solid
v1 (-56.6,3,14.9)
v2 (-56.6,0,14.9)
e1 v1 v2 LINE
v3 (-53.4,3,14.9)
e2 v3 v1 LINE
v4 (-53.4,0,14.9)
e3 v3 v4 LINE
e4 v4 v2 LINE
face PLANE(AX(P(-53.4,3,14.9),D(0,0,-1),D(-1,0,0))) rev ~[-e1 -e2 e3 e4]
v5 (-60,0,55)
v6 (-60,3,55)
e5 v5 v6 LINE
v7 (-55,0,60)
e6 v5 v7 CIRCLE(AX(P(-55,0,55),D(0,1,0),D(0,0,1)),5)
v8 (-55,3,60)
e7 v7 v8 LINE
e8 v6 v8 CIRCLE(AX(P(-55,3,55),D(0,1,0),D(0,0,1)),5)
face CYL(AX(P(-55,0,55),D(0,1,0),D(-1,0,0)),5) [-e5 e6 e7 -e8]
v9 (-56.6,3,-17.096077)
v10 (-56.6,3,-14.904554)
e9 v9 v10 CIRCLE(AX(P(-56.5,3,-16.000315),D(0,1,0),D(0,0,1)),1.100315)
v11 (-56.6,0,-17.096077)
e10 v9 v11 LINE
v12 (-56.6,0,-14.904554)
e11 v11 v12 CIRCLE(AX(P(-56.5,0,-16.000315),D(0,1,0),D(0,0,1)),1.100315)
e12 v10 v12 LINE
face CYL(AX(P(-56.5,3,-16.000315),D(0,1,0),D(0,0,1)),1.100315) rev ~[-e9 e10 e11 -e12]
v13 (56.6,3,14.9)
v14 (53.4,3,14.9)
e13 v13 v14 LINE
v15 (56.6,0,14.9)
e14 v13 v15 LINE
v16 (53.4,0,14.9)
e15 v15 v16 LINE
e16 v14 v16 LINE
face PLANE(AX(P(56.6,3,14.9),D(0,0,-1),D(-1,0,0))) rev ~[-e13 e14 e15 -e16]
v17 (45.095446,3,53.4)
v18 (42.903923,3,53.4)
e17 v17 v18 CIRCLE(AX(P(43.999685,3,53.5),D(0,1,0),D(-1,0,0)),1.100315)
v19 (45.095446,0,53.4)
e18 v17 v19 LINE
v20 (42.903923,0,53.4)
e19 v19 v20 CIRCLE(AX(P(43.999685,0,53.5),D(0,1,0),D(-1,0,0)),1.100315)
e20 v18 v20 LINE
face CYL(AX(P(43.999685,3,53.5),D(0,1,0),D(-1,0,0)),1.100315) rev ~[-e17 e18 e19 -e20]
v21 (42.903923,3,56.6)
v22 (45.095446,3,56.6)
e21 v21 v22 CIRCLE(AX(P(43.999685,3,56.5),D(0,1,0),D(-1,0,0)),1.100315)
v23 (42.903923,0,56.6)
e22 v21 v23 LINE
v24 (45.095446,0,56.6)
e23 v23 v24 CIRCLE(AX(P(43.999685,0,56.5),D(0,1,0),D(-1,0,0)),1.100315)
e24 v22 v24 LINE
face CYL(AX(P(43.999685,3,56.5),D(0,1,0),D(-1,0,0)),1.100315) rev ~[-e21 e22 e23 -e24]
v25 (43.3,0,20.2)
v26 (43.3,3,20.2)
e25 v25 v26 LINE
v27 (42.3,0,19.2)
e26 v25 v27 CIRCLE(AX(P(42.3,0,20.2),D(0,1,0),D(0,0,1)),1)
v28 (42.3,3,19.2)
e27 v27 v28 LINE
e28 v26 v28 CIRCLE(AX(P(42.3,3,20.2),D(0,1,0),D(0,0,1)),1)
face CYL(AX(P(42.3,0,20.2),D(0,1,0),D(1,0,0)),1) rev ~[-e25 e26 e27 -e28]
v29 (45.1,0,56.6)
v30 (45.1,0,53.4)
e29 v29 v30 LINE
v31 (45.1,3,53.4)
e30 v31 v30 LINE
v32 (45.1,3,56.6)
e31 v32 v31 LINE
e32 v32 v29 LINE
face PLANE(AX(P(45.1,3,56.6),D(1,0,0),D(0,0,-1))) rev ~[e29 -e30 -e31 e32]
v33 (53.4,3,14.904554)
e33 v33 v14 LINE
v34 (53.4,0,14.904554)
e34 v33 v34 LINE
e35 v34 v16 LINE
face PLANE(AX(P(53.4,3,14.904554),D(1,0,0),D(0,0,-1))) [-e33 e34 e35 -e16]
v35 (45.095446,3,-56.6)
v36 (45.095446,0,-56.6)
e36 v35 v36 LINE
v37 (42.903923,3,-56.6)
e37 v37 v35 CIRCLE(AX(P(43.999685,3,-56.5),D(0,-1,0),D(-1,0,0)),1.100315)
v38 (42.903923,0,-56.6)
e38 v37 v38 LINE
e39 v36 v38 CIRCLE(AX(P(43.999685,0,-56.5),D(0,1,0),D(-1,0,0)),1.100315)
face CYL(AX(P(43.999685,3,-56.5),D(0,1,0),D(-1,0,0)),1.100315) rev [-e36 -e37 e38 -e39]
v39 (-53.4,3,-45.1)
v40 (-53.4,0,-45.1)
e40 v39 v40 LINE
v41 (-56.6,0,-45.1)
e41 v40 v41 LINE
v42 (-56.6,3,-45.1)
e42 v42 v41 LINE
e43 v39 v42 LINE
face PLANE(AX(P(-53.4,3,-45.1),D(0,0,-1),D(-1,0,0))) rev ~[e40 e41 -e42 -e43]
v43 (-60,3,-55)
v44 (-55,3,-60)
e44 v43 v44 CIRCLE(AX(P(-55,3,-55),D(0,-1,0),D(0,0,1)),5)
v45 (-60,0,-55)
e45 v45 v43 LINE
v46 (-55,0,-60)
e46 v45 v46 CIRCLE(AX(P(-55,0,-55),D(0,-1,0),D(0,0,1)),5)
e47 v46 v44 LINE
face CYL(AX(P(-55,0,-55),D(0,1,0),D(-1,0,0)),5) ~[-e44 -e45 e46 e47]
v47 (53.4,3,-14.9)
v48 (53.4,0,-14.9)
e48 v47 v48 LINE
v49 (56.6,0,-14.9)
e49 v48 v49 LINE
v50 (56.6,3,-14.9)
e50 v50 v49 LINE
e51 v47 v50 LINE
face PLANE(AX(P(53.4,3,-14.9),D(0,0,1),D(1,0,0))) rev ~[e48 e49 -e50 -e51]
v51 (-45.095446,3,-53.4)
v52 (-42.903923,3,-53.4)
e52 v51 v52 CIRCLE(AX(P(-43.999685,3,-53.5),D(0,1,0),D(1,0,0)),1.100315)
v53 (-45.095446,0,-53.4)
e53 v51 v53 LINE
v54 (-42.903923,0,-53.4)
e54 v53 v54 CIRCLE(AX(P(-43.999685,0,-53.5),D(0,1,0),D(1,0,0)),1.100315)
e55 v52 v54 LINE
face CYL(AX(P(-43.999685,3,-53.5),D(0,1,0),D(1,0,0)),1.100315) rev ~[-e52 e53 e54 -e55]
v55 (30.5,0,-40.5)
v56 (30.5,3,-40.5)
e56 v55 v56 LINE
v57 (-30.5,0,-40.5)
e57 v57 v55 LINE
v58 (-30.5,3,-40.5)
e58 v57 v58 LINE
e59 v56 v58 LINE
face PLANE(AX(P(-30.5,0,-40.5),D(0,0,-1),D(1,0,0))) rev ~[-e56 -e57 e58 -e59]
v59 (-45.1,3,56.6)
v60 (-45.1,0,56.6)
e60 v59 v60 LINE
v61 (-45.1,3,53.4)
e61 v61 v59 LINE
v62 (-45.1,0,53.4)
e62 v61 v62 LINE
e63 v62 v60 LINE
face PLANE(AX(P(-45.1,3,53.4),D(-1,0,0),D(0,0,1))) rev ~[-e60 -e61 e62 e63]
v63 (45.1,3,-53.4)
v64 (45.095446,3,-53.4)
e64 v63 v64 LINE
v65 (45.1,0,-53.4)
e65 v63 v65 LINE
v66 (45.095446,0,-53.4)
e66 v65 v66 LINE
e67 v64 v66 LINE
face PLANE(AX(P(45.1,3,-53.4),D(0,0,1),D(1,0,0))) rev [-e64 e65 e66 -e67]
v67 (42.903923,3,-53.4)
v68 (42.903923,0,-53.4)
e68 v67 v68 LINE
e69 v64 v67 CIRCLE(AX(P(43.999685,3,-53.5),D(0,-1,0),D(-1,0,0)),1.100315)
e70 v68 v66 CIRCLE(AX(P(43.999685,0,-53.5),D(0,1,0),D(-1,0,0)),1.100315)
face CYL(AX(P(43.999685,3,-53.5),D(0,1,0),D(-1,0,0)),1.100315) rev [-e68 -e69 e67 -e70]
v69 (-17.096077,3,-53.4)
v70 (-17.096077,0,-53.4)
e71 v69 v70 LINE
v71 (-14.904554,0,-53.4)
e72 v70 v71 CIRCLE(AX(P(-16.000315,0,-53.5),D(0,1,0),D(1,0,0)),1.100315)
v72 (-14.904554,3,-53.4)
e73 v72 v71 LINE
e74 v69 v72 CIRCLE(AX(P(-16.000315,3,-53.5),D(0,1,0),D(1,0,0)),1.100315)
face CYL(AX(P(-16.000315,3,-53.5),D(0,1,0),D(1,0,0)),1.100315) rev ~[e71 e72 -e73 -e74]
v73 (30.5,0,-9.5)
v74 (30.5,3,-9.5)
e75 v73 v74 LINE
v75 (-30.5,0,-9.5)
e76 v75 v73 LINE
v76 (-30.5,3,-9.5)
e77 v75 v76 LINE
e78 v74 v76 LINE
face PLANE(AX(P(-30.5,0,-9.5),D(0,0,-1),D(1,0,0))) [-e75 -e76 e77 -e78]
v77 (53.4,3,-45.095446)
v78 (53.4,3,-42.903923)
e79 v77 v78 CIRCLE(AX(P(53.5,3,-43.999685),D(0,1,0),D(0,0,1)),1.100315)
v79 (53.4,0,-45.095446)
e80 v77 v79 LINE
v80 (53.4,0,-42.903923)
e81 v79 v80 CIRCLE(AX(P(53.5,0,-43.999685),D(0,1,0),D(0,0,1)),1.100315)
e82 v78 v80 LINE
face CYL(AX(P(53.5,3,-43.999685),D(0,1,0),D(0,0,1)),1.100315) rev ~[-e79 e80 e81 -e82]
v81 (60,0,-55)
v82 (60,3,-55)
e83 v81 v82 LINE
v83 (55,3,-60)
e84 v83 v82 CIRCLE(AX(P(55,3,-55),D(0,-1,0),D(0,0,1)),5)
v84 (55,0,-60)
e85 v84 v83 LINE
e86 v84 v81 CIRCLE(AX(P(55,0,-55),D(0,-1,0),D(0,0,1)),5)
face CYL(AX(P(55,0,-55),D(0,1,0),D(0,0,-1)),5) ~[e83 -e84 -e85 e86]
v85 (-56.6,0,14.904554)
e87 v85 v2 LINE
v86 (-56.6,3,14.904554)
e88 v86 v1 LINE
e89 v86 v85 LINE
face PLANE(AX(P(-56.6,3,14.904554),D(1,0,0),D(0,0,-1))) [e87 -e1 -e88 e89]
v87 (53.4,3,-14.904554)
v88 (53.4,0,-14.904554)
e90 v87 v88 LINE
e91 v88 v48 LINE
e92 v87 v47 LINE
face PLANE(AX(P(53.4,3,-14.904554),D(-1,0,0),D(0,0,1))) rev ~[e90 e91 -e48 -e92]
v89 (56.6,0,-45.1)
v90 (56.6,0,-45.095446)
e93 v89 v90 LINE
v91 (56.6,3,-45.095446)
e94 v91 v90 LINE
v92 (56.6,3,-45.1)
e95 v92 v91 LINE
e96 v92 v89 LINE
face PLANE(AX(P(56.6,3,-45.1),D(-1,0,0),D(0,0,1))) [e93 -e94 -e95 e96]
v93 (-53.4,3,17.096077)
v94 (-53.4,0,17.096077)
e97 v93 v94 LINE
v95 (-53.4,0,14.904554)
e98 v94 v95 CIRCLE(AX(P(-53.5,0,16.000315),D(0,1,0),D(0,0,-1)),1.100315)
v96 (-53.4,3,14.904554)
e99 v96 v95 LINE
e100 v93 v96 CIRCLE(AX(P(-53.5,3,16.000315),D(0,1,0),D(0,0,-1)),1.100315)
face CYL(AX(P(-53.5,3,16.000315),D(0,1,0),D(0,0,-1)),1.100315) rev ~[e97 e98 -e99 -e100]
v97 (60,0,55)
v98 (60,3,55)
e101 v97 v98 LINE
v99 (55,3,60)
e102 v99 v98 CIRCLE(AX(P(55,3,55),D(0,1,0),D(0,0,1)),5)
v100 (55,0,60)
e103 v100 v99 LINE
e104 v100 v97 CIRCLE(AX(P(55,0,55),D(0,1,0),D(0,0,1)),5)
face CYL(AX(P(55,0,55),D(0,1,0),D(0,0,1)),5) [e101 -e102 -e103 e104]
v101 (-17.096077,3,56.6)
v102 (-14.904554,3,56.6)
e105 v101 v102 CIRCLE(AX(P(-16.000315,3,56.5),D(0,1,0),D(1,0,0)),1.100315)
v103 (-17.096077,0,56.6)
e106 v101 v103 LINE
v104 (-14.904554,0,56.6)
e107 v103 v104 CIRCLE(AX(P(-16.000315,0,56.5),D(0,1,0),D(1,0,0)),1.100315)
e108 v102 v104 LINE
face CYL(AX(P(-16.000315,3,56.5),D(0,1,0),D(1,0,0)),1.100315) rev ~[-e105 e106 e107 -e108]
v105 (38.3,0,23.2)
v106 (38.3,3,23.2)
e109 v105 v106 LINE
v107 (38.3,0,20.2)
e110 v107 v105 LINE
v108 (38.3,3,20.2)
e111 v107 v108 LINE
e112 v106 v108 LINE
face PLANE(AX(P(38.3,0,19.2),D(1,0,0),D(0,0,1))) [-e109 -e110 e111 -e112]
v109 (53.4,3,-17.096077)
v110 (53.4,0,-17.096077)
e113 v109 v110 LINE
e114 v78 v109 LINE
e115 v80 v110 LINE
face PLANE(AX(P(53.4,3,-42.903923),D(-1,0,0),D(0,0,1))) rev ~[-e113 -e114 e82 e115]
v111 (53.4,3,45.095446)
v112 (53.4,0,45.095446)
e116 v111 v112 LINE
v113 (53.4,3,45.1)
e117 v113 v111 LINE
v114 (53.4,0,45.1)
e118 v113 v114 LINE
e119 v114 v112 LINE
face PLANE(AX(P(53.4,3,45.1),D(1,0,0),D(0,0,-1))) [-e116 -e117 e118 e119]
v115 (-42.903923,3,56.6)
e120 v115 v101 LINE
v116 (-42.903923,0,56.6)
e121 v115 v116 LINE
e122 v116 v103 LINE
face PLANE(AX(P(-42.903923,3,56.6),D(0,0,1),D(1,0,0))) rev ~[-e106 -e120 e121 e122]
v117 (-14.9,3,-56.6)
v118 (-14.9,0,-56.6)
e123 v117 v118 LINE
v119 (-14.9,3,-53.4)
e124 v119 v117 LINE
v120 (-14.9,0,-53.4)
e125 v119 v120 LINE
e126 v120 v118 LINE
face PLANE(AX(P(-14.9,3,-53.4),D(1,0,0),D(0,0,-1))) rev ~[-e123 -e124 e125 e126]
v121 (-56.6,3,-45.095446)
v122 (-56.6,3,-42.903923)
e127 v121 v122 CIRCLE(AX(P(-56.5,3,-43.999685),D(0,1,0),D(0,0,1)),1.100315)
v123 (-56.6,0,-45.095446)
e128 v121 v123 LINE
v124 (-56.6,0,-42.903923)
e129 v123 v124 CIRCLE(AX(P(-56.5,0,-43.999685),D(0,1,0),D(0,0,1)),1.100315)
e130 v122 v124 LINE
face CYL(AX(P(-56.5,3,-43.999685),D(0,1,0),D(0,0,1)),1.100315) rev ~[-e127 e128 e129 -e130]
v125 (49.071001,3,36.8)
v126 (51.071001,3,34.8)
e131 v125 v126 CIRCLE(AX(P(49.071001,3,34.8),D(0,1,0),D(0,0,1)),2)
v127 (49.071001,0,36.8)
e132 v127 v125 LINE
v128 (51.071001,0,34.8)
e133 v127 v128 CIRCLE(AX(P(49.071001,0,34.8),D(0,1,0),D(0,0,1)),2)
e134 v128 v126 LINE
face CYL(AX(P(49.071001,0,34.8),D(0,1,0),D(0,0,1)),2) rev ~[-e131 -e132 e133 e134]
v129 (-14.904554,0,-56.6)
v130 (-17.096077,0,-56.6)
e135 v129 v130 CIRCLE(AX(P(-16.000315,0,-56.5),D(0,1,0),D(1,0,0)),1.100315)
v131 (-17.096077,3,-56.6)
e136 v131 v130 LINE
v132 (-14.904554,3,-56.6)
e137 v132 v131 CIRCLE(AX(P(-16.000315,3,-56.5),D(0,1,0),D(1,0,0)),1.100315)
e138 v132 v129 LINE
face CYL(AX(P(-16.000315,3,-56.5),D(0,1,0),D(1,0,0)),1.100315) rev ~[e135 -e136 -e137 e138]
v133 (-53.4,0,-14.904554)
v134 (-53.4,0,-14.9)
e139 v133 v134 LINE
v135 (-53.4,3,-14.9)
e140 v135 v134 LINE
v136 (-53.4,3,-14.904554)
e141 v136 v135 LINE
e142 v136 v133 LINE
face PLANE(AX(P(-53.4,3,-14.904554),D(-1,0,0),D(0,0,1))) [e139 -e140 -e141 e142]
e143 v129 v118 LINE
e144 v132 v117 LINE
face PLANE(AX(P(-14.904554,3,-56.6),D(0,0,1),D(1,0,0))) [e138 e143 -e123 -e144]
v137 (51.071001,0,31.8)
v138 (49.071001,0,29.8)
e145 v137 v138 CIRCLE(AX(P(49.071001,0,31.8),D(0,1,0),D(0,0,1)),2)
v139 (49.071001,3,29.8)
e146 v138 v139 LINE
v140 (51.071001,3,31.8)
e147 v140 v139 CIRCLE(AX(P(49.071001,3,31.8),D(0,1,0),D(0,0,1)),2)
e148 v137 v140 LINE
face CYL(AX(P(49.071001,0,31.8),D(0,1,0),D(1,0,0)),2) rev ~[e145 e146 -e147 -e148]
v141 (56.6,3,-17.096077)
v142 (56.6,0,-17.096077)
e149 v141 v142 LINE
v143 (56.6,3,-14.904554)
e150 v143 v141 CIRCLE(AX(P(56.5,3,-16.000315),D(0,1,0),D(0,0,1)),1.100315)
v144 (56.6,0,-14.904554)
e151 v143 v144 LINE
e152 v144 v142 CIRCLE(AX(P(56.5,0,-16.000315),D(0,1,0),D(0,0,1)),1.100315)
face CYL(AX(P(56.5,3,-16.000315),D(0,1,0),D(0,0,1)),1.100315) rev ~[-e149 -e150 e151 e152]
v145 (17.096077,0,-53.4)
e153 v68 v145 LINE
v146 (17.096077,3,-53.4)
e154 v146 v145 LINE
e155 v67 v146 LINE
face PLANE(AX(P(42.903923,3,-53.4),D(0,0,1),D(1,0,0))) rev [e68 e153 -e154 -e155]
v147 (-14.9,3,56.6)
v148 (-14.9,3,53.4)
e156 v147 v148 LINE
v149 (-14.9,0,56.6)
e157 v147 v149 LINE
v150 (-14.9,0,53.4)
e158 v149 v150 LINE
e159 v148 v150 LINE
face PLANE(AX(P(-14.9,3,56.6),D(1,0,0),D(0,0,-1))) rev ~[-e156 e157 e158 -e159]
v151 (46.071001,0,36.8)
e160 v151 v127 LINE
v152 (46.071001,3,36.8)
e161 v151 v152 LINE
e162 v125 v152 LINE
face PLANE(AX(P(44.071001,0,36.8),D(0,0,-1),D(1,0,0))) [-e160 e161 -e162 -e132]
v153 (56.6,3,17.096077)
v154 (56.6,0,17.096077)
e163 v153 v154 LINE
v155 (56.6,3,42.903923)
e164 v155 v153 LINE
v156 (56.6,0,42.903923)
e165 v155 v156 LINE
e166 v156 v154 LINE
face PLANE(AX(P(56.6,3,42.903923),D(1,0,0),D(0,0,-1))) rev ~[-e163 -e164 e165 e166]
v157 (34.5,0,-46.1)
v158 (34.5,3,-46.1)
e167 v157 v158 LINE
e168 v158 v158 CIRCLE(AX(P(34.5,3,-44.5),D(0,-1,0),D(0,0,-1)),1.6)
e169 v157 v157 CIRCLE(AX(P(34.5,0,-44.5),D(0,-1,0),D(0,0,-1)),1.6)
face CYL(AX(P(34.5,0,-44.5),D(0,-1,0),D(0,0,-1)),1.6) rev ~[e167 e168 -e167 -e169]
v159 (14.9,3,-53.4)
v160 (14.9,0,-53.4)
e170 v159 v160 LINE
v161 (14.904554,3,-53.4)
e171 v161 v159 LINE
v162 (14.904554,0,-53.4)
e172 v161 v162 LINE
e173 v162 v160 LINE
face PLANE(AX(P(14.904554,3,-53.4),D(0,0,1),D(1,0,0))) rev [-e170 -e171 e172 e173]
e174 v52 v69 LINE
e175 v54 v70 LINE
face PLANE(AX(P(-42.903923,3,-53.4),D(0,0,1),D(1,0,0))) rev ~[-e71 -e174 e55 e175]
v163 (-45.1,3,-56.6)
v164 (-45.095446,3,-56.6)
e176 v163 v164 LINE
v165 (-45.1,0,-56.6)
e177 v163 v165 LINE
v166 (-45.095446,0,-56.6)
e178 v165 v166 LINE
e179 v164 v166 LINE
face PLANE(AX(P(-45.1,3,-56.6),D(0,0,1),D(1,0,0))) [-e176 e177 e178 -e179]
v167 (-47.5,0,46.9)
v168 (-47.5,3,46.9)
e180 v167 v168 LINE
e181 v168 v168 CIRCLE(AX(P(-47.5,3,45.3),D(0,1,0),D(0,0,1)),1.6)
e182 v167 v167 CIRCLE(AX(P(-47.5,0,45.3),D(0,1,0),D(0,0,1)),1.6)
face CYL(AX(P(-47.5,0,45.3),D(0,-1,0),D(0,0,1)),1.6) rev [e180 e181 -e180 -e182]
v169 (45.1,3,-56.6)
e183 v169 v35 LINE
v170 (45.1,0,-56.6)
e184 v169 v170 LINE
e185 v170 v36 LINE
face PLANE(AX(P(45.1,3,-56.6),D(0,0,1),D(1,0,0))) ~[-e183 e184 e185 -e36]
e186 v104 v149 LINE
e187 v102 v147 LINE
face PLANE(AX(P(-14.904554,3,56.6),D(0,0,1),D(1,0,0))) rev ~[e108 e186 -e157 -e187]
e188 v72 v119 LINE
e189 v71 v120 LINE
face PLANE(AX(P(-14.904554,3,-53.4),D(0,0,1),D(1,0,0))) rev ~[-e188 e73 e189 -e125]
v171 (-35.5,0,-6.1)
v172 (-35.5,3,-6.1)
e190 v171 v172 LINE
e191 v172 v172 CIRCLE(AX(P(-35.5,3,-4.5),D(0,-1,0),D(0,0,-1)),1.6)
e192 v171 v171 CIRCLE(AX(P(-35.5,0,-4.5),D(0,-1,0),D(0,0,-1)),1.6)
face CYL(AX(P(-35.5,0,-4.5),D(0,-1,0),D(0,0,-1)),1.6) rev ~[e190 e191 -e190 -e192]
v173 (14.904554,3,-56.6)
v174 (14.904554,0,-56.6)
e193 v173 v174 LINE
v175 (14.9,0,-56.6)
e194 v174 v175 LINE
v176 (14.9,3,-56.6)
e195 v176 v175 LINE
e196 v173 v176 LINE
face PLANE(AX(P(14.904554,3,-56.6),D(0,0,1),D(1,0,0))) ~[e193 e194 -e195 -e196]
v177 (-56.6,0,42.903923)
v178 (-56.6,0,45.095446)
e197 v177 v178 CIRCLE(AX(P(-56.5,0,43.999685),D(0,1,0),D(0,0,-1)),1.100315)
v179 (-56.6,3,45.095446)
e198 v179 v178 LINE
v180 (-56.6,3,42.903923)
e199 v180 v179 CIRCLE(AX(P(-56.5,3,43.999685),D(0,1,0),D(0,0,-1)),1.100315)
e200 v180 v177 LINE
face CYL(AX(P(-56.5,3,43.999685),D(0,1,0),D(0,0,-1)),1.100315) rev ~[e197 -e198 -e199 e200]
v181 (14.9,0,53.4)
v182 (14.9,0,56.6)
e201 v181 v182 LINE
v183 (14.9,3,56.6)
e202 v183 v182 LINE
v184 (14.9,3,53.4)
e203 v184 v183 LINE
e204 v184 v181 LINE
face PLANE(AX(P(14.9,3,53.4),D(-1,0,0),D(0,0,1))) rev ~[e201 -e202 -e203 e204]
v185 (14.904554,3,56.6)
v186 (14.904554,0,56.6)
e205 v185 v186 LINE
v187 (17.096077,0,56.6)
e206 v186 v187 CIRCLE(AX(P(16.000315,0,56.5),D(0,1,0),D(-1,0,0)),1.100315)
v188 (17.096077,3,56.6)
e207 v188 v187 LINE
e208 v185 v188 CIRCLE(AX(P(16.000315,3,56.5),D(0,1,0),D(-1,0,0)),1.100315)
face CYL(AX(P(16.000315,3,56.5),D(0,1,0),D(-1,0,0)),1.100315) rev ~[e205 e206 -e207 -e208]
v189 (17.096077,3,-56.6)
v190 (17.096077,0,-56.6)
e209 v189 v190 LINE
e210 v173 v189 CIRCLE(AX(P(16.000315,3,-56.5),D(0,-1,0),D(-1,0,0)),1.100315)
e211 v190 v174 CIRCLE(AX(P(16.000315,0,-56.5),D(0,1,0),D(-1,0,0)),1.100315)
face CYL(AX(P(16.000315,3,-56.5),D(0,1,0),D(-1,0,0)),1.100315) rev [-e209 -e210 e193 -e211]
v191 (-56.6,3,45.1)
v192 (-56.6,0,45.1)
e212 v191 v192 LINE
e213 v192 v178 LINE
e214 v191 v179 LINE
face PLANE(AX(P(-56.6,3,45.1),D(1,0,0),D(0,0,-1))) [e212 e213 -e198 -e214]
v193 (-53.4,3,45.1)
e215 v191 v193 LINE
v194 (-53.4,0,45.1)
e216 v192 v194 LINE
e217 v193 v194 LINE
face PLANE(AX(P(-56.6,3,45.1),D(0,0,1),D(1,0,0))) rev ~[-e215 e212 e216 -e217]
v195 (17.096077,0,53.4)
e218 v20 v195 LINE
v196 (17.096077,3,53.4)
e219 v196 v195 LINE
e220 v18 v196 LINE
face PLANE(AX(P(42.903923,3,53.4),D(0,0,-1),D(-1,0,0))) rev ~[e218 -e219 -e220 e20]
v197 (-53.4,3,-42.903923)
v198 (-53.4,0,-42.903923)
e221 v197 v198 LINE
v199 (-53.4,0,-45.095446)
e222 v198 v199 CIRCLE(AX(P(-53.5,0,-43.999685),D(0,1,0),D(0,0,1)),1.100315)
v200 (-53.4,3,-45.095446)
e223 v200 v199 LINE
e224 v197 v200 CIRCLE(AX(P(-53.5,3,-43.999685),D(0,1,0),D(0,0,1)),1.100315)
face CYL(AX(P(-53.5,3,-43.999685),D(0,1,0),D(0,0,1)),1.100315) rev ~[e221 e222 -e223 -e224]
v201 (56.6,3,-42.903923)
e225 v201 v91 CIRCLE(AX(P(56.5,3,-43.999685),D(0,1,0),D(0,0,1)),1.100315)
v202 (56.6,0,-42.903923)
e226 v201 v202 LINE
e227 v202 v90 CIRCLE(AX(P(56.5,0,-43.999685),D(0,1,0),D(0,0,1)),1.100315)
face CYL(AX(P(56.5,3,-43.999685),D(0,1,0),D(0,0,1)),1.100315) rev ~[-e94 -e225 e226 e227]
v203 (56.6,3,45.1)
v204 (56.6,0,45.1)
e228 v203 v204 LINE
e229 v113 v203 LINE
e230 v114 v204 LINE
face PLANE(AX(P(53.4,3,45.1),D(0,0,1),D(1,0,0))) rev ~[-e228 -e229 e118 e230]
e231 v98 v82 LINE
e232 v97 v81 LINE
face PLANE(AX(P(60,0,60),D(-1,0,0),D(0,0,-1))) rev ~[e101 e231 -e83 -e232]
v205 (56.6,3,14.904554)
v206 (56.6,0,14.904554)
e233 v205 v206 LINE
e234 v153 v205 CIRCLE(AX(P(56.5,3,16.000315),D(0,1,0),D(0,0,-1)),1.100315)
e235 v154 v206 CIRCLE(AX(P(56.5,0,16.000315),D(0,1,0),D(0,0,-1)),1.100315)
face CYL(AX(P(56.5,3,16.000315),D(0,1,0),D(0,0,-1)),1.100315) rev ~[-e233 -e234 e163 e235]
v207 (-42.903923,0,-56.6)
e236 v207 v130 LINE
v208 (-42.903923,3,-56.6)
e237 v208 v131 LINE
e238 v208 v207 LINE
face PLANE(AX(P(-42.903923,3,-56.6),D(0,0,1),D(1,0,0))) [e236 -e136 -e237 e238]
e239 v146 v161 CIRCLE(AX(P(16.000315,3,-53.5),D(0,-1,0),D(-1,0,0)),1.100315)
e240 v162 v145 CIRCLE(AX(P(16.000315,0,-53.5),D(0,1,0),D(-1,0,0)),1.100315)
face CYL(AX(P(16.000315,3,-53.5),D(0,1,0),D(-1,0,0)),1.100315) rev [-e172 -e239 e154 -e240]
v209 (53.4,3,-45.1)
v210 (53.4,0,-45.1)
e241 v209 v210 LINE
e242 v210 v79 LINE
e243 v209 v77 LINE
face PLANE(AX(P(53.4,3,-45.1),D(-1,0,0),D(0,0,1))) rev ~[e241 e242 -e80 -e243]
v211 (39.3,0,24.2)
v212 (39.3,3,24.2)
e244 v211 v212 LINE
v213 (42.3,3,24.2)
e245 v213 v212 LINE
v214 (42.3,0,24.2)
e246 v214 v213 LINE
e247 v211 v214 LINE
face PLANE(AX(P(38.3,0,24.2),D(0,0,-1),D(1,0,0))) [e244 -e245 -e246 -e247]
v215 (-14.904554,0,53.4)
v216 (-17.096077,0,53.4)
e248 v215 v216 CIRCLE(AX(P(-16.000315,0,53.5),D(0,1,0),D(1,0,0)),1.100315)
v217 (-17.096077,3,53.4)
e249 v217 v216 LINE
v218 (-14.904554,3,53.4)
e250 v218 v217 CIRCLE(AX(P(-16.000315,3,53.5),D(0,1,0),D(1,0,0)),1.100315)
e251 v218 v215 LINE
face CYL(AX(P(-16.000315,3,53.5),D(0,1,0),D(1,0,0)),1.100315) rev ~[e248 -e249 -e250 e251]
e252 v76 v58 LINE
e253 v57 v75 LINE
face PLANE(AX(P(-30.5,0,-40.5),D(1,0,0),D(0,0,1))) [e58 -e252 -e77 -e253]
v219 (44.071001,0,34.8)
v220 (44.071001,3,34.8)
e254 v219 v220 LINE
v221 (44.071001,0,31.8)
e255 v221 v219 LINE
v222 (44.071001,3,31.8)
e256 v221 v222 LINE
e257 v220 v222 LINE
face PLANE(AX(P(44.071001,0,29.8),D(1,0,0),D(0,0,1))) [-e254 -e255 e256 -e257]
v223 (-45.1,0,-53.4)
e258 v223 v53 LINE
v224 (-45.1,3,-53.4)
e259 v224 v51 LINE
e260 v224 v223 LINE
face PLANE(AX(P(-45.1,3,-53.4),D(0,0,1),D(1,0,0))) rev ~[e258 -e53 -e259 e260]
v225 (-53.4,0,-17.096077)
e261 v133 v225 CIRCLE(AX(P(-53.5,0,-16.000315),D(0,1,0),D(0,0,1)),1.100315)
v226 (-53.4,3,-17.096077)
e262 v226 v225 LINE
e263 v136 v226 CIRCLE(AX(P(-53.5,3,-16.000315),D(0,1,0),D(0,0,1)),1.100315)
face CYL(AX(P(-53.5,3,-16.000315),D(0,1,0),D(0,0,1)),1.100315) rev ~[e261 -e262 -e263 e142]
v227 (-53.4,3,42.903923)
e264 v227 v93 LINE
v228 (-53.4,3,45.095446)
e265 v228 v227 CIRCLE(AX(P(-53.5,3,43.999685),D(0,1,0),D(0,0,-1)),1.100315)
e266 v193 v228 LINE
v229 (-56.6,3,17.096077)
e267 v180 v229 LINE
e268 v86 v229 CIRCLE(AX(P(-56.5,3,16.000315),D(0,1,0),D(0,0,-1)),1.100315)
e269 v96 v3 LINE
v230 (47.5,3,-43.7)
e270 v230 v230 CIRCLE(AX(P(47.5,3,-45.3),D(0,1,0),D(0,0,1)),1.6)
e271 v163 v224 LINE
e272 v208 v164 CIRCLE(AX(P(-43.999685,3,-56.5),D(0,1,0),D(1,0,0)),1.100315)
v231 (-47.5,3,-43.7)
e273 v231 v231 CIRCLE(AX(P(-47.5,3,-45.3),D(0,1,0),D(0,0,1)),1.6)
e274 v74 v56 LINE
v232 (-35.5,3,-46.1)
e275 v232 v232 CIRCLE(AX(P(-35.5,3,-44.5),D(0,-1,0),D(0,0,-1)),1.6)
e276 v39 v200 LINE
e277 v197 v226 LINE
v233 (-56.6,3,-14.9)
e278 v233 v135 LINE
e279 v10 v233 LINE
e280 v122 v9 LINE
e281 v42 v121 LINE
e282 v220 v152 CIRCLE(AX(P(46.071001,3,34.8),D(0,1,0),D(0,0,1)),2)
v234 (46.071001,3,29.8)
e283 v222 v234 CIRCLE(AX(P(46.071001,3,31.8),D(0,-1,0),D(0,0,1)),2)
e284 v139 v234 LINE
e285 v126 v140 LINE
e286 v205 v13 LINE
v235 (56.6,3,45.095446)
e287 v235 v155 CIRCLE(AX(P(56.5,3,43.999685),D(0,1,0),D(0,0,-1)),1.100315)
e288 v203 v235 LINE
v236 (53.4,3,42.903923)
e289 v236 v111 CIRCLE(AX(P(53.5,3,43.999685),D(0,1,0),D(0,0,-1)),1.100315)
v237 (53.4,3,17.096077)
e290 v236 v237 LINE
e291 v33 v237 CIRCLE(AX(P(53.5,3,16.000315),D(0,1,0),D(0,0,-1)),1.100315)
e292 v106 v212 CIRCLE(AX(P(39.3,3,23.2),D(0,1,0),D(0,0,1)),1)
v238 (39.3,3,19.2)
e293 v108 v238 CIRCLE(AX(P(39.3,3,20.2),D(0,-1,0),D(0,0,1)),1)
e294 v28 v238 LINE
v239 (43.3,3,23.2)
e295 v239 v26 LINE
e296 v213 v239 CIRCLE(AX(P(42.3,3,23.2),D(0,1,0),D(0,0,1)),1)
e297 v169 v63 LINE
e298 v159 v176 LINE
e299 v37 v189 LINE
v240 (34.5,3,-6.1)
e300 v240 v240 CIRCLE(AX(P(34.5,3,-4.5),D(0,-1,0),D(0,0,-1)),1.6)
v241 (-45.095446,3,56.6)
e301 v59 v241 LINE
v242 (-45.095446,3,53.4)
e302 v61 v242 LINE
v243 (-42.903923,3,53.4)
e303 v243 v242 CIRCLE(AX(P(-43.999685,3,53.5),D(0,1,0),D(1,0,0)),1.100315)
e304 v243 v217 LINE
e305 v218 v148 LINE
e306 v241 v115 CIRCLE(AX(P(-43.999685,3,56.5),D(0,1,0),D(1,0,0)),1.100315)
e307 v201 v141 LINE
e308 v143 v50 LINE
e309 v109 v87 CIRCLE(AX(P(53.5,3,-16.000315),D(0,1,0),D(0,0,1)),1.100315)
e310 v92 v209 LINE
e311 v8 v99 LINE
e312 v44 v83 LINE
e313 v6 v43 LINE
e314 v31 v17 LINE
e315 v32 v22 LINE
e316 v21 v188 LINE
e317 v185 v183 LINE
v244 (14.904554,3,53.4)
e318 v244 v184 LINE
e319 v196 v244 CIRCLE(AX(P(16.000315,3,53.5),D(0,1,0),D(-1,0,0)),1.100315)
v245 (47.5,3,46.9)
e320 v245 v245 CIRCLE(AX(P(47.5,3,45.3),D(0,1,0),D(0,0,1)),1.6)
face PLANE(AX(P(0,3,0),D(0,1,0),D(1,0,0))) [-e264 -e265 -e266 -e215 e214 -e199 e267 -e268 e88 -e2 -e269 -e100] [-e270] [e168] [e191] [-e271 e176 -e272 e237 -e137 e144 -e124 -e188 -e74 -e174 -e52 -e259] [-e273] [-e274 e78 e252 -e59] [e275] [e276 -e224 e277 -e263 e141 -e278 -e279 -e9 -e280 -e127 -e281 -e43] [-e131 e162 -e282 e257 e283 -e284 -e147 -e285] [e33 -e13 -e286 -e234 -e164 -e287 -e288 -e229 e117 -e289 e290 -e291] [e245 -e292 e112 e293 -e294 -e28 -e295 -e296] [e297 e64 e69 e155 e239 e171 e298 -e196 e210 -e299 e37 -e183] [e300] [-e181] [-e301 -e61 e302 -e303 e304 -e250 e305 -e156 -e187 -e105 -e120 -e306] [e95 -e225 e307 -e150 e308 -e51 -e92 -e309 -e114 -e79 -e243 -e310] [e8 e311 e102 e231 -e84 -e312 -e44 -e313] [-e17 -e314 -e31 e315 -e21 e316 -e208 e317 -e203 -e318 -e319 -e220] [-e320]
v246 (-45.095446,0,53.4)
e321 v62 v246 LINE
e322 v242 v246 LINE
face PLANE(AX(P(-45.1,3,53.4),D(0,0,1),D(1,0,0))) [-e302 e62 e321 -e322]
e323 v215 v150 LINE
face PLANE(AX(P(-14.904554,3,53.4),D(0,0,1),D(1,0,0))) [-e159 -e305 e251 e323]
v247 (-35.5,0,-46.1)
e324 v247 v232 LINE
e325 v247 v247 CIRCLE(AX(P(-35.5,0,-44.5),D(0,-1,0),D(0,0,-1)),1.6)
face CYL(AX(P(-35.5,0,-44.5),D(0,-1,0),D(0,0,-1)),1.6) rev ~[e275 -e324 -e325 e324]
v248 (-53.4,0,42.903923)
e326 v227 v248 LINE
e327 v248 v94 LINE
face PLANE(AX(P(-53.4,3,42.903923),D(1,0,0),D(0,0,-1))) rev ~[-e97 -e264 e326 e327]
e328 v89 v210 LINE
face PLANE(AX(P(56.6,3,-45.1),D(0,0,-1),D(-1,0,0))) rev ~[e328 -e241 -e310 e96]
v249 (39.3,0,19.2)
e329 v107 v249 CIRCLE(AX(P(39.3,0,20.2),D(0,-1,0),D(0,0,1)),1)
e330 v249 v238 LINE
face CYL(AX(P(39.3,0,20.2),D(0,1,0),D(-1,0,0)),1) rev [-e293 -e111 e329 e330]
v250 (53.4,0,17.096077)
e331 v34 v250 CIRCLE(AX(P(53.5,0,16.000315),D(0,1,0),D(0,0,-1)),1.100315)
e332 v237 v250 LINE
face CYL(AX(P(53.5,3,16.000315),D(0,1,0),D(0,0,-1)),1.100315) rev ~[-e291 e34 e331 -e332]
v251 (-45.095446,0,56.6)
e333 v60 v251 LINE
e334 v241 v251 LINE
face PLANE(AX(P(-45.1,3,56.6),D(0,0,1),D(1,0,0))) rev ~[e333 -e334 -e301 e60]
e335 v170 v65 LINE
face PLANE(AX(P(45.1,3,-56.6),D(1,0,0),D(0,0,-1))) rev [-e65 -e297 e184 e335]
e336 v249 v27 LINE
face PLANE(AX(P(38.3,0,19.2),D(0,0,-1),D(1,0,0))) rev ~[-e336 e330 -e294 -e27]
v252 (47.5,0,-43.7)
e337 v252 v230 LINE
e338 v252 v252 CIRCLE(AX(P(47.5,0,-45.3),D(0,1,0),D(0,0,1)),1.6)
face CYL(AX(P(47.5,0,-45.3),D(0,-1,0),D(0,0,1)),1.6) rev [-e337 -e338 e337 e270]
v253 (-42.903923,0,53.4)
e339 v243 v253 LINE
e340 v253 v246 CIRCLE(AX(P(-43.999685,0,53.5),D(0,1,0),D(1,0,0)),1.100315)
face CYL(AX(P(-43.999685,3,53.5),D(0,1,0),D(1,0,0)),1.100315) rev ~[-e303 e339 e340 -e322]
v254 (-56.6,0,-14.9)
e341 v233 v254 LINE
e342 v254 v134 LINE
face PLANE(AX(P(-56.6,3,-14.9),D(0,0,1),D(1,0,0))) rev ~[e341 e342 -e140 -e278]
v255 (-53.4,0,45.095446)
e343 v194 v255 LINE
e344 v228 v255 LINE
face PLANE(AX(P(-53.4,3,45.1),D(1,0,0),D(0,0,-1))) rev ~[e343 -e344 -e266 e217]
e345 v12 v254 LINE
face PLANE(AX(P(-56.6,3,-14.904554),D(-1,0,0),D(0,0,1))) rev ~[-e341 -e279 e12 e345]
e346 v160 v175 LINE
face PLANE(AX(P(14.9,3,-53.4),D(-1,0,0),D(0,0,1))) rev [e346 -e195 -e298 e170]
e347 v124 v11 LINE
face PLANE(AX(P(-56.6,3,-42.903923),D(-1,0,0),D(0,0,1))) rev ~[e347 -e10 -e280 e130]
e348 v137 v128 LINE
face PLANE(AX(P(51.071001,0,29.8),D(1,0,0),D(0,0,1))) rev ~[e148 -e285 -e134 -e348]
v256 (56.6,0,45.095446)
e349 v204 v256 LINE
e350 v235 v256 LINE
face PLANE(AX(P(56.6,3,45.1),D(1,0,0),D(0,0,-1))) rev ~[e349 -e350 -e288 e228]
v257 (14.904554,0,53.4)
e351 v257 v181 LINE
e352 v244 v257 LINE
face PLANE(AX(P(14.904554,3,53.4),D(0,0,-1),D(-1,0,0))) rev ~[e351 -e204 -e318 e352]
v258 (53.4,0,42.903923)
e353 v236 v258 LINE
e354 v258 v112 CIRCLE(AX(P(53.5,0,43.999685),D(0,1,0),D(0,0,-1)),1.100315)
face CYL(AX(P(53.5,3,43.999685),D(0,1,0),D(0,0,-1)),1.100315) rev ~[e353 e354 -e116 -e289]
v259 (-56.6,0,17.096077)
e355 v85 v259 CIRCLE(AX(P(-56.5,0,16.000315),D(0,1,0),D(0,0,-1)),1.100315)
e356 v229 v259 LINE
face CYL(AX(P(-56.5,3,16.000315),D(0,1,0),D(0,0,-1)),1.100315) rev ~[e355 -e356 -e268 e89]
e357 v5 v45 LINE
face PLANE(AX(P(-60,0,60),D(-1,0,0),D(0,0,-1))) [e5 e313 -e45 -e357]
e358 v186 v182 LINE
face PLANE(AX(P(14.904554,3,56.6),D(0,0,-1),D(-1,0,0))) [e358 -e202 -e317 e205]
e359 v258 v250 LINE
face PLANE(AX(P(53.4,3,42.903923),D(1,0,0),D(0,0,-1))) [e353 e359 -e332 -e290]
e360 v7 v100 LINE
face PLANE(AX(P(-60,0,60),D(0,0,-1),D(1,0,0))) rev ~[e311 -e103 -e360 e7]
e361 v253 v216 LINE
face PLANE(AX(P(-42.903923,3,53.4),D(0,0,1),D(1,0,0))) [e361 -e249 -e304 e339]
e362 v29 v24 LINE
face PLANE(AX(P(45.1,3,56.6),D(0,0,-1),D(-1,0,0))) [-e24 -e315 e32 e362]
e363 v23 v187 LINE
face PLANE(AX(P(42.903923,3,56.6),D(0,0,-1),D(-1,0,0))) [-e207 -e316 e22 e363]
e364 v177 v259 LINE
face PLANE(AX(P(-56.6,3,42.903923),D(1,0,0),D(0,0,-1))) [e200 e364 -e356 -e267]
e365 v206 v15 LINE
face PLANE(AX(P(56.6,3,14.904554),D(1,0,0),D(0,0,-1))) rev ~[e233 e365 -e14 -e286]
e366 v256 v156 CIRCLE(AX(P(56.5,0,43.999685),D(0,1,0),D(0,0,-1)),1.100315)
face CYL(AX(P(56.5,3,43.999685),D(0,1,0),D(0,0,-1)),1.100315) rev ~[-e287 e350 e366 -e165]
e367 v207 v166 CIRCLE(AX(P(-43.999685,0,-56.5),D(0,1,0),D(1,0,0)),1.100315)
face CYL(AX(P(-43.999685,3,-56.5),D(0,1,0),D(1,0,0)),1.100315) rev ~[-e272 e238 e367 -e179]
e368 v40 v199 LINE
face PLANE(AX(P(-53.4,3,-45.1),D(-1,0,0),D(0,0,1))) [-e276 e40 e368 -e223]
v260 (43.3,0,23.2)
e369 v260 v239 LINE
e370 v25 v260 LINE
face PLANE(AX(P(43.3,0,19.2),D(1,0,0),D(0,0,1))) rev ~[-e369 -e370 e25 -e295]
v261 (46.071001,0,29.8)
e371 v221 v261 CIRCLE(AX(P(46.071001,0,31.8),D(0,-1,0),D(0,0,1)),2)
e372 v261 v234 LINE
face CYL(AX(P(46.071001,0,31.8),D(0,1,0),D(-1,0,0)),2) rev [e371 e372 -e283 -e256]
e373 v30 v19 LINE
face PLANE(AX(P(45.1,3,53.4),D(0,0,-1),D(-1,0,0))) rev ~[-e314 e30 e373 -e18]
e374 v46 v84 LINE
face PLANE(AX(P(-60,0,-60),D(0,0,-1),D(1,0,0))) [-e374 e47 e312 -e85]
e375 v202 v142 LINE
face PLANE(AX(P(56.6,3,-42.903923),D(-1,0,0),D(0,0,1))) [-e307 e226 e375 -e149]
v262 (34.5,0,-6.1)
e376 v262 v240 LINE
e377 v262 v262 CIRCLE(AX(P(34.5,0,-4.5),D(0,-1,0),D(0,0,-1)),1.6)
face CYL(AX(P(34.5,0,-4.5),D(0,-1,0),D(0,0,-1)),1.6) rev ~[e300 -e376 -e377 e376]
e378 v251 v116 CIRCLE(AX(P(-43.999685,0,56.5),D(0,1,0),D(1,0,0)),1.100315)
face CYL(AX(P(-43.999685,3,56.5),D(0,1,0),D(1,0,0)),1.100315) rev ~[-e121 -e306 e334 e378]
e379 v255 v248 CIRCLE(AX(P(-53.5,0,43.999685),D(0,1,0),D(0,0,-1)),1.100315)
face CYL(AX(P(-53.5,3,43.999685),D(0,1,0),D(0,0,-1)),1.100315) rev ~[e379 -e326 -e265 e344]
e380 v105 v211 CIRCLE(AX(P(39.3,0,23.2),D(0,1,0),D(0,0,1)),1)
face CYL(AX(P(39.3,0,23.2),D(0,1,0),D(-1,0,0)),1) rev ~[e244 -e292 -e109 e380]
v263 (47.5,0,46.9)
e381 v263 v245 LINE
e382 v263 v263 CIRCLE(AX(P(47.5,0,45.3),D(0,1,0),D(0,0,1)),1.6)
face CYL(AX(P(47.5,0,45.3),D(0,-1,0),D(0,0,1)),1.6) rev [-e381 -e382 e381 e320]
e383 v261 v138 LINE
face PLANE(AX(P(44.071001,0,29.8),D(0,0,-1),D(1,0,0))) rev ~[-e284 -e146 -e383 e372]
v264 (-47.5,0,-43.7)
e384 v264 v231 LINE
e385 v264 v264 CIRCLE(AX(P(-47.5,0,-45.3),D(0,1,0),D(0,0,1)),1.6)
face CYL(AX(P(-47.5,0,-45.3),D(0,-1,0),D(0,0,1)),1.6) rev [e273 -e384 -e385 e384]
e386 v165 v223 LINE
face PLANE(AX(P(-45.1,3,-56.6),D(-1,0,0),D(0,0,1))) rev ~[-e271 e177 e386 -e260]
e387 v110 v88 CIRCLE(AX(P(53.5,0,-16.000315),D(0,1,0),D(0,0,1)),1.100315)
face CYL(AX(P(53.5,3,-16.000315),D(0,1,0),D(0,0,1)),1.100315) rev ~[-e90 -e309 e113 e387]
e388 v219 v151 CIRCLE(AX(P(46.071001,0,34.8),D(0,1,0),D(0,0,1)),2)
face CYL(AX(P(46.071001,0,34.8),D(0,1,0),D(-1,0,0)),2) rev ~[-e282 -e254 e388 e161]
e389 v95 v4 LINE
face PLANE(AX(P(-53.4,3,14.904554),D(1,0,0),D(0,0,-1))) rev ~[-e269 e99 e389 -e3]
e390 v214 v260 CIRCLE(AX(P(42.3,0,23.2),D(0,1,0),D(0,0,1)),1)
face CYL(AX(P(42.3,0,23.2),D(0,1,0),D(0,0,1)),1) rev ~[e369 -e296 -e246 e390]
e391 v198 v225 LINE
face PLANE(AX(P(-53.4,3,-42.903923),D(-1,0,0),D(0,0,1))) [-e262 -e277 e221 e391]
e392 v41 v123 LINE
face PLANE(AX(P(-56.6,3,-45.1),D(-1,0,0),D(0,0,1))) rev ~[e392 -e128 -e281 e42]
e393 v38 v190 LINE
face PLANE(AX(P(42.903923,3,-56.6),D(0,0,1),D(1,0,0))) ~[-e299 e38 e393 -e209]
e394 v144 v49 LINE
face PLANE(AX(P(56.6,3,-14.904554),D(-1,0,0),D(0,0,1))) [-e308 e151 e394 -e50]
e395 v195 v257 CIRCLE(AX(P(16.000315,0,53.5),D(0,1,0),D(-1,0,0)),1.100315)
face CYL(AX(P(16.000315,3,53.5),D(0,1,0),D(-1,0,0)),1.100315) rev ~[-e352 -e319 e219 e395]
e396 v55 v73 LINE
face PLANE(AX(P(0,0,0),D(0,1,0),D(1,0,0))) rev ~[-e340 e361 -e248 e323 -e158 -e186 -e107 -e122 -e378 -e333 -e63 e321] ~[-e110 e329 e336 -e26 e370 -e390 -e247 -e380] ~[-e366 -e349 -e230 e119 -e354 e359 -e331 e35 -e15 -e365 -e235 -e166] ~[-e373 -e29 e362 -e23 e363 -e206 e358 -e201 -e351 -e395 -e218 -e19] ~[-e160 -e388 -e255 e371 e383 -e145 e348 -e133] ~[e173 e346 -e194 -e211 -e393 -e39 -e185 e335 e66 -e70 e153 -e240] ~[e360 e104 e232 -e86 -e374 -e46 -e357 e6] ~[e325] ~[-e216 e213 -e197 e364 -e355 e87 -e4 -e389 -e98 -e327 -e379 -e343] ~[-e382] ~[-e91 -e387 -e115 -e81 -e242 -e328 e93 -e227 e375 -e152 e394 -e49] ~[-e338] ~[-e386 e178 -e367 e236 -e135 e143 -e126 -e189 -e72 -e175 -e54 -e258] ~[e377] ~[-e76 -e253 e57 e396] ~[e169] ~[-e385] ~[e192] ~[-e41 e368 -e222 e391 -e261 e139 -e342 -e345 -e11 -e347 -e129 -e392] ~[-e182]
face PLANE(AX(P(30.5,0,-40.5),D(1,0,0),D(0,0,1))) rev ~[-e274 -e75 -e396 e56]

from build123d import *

# Parameters (mm, degrees)
SKETCH_1_W                         = 120
SKETCH_1_H                         = 120
SKETCH_1_R                         = 1.6
EXTRUDE_1_DEPTH                    = 3
SKETCH_2_R                         = 1.100315487
SKETCH_2_W                         = 30.2
SKETCH_2_H                         = 3.2
CUT_EXTRUDE_1_DEPTH                = 10
PATTERN_CIRCULAR_1_COUNT           = 4
PATTERN_CIRCULAR_1_COPY_1_SKETCH_R = 1.100315487
PATTERN_CIRCULAR_1_COPY_1_SKETCH_W = 30.2
PATTERN_CIRCULAR_1_COPY_1_SKETCH_H = 3.2
PATTERN_CIRCULAR_1_COPY_1_DEPTH    = 10
PATTERN_CIRCULAR_1_COPY_2_SKETCH_R = 1.100315487
PATTERN_CIRCULAR_1_COPY_2_SKETCH_W = 30.2
PATTERN_CIRCULAR_1_COPY_2_SKETCH_H = 3.2
PATTERN_CIRCULAR_1_COPY_2_DEPTH    = 10
PATTERN_CIRCULAR_1_COPY_3_SKETCH_R = 1.100315487
PATTERN_CIRCULAR_1_COPY_3_SKETCH_W = 30.2
PATTERN_CIRCULAR_1_COPY_3_SKETCH_H = 3.2
PATTERN_CIRCULAR_1_COPY_3_DEPTH    = 10
FILLET_1_R                         = 5
SKETCH_5_W                         = 7
SKETCH_5_H                         = 7
CUT_EXTRUDE_3_DEPTH                = 10
FILLET_2_R                         = 2
SKETCH_6_W                         = 5
SKETCH_6_H                         = 5
CUT_EXTRUDE_4_DEPTH                = 5
FILLET_3_R                         = 1
SKETCH_7_W                         = 61
SKETCH_7_H                         = 31
CUT_EXTRUDE_5_DEPTH                = 10
SKETCH_8_R                         = 1.6
CUT_EXTRUDE_6_DEPTH                = 10


with BuildPart() as part:
    # 草图1 → 凸台-拉伸1 (new body)
    with BuildSketch(Plane(origin=(0, 0, 0), x_dir=(1, 0, 0), z_dir=(0, 1, 0))):
        Rectangle(SKETCH_1_W, SKETCH_1_H)
        with Locations(Location((-47.5, 45.3, 0), (0, 0, 270))):
            Circle(SKETCH_1_R, mode=Mode.SUBTRACT)
        with Locations(Location((47.5, 45.3, 0), (0, 0, 270))):
            Circle(SKETCH_1_R, mode=Mode.SUBTRACT)
        with Locations(Location((47.5, -45.3, 0), (0, 0, 270))):
            Circle(SKETCH_1_R, mode=Mode.SUBTRACT)
        with Locations(Location((-47.5, -45.3, 0), (0, 0, 270))):
            Circle(SKETCH_1_R, mode=Mode.SUBTRACT)
    extrude(amount=EXTRUDE_1_DEPTH)

    # 草图2 → 切除-拉伸1 (cut)
    with BuildSketch(Plane(origin=(0, 3, 0), x_dir=(1, 0, 0), z_dir=(0, 1, 0))):
        with Locations((-16.000315487, 56.5)):
            Circle(SKETCH_2_R)
        with Locations((-16.000315487, 53.5)):
            Circle(SKETCH_2_R)
        with Locations((-43.999684513, 56.5)):
            Circle(SKETCH_2_R)
        with Locations((-43.999684513, 53.5)):
            Circle(SKETCH_2_R)
        with Locations((-30, 55)):
            Rectangle(SKETCH_2_W, SKETCH_2_H)
    cut_extrude_1 = extrude(amount=-CUT_EXTRUDE_1_DEPTH, mode=Mode.SUBTRACT)

    # 镜向1: 切除-拉伸1 across plane
    add(cut_extrude_1.mirror(Plane(origin=(0, 0, 0), x_dir=(0, 0, 1), z_dir=(1, 0, 0))), mode=Mode.SUBTRACT)

    # 阵列(圆周)1: 切除-拉伸1 ×4 about axis
    pattern_circular_1_axis = Axis((0, 0, 0), (0, 1, 0))
    for i in range(1, PATTERN_CIRCULAR_1_COUNT):
        add(cut_extrude_1.rotate(pattern_circular_1_axis, i * 360 / PATTERN_CIRCULAR_1_COUNT), mode=Mode.SUBTRACT)

    # 阵列(圆周)1 copy 1 sketch → 阵列(圆周)1 copy 1 (cut)
    with BuildSketch(Plane.ZX.offset(3)):
        with Locations((-16.000315487, -56.5)):
            Circle(PATTERN_CIRCULAR_1_COPY_1_SKETCH_R)
        with Locations((-16.000315487, -53.5)):
            Circle(PATTERN_CIRCULAR_1_COPY_1_SKETCH_R)
        with Locations((-43.999684513, -56.5)):
            Circle(PATTERN_CIRCULAR_1_COPY_1_SKETCH_R)
        with Locations((-43.999684513, -53.5)):
            Circle(PATTERN_CIRCULAR_1_COPY_1_SKETCH_R)
        with Locations((-30, -55)):
            Rectangle(PATTERN_CIRCULAR_1_COPY_1_SKETCH_W, PATTERN_CIRCULAR_1_COPY_1_SKETCH_H)
    extrude(amount=-PATTERN_CIRCULAR_1_COPY_1_DEPTH, mode=Mode.SUBTRACT)

    # 阵列(圆周)1 copy 2 sketch → 阵列(圆周)1 copy 2 (cut)
    with BuildSketch(Plane(origin=(0, 3, 0), x_dir=(1, 0, 0), z_dir=(0, 1, 0))):
        with Locations((-16.000315487, -56.5)):
            Circle(PATTERN_CIRCULAR_1_COPY_2_SKETCH_R)
        with Locations((-16.000315487, -53.5)):
            Circle(PATTERN_CIRCULAR_1_COPY_2_SKETCH_R)
        with Locations((-43.999684513, -56.5)):
            Circle(PATTERN_CIRCULAR_1_COPY_2_SKETCH_R)
        with Locations((-43.999684513, -53.5)):
            Circle(PATTERN_CIRCULAR_1_COPY_2_SKETCH_R)
        with Locations((-30, -55)):
            Rectangle(PATTERN_CIRCULAR_1_COPY_2_SKETCH_W, PATTERN_CIRCULAR_1_COPY_2_SKETCH_H)
    extrude(amount=-PATTERN_CIRCULAR_1_COPY_2_DEPTH, mode=Mode.SUBTRACT)

    # 阵列(圆周)1 copy 3 sketch → 阵列(圆周)1 copy 3 (cut)
    with BuildSketch(Plane(origin=(0, 3, 0), x_dir=(0, 0, -1), z_dir=(0, 1, 0))):
        with Locations((-16.000315487, -56.5)):
            Circle(PATTERN_CIRCULAR_1_COPY_3_SKETCH_R)
        with Locations((-16.000315487, -53.5)):
            Circle(PATTERN_CIRCULAR_1_COPY_3_SKETCH_R)
        with Locations((-43.999684513, -56.5)):
            Circle(PATTERN_CIRCULAR_1_COPY_3_SKETCH_R)
        with Locations((-43.999684513, -53.5)):
            Circle(PATTERN_CIRCULAR_1_COPY_3_SKETCH_R)
        with Locations((-30, -55)):
            Rectangle(PATTERN_CIRCULAR_1_COPY_3_SKETCH_W, PATTERN_CIRCULAR_1_COPY_3_SKETCH_H)
    extrude(amount=-PATTERN_CIRCULAR_1_COPY_3_DEPTH, mode=Mode.SUBTRACT)

    # 圆角1
    fillet_1_edges = [part.edges().sort_by_distance(p)[0] for p in [
        (60, 1.5, 60),
        (-60, 1.5, 60),
        (-60, 1.5, -60),
        (60, 1.5, -60),
    ]]
    fillet(fillet_1_edges, radius=FILLET_1_R)

    # 草图5 → 切除-拉伸3 (cut)
    with BuildSketch(Plane.XZ):
        with Locations((47.571001051, 33.3)):
            Rectangle(SKETCH_5_W, SKETCH_5_H)
    extrude(amount=-CUT_EXTRUDE_3_DEPTH, mode=Mode.SUBTRACT)

    # 圆角2
    fillet_2_edges = [part.edges().sort_by_distance(p)[0] for p in [
        (51.071001051, 1.5, 36.8),
        (51.071001051, 1.5, 29.8),
        (44.071001051, 1.5, 29.8),
        (44.071001051, 1.5, 36.8),
    ]]
    fillet(fillet_2_edges, radius=FILLET_2_R)

    # 草图6 → 切除-拉伸4 (cut)
    with BuildSketch(Plane.XZ):
        with Locations((40.8, 21.7)):
            Rectangle(SKETCH_6_W, SKETCH_6_H)
    extrude(amount=-CUT_EXTRUDE_4_DEPTH, mode=Mode.SUBTRACT)

    # 圆角3
    fillet_3_edges = [part.edges().sort_by_distance(p)[0] for p in [
        (38.3, 1.5, 19.2),
        (38.3, 1.5, 24.2),
        (43.3, 1.5, 24.2),
        (43.3, 1.5, 19.2),
    ]]
    fillet(fillet_3_edges, radius=FILLET_3_R)

    # 草图7 → 切除-拉伸5 (cut)
    with BuildSketch(Plane.XZ):
        with Locations((0, -25)):
            Rectangle(SKETCH_7_W, SKETCH_7_H)
    extrude(amount=-CUT_EXTRUDE_5_DEPTH, mode=Mode.SUBTRACT)

    # 草图8 → 切除-拉伸6 (cut)
    with BuildSketch(Plane.XZ):
        with Locations(Location((-35.5, -44.5, 0), (0, 0, 270))):
            Circle(SKETCH_8_R)
        with Locations(Location((34.5, -44.5, 0), (0, 0, 270))):
            Circle(SKETCH_8_R)
        with Locations(Location((34.5, -4.5, 0), (0, 0, 270))):
            Circle(SKETCH_8_R)
        with Locations(Location((-35.5, -4.5, 0), (0, 0, 270))):
            Circle(SKETCH_8_R)
    extrude(amount=-CUT_EXTRUDE_6_DEPTH, mode=Mode.SUBTRACT)


solid = part.part
